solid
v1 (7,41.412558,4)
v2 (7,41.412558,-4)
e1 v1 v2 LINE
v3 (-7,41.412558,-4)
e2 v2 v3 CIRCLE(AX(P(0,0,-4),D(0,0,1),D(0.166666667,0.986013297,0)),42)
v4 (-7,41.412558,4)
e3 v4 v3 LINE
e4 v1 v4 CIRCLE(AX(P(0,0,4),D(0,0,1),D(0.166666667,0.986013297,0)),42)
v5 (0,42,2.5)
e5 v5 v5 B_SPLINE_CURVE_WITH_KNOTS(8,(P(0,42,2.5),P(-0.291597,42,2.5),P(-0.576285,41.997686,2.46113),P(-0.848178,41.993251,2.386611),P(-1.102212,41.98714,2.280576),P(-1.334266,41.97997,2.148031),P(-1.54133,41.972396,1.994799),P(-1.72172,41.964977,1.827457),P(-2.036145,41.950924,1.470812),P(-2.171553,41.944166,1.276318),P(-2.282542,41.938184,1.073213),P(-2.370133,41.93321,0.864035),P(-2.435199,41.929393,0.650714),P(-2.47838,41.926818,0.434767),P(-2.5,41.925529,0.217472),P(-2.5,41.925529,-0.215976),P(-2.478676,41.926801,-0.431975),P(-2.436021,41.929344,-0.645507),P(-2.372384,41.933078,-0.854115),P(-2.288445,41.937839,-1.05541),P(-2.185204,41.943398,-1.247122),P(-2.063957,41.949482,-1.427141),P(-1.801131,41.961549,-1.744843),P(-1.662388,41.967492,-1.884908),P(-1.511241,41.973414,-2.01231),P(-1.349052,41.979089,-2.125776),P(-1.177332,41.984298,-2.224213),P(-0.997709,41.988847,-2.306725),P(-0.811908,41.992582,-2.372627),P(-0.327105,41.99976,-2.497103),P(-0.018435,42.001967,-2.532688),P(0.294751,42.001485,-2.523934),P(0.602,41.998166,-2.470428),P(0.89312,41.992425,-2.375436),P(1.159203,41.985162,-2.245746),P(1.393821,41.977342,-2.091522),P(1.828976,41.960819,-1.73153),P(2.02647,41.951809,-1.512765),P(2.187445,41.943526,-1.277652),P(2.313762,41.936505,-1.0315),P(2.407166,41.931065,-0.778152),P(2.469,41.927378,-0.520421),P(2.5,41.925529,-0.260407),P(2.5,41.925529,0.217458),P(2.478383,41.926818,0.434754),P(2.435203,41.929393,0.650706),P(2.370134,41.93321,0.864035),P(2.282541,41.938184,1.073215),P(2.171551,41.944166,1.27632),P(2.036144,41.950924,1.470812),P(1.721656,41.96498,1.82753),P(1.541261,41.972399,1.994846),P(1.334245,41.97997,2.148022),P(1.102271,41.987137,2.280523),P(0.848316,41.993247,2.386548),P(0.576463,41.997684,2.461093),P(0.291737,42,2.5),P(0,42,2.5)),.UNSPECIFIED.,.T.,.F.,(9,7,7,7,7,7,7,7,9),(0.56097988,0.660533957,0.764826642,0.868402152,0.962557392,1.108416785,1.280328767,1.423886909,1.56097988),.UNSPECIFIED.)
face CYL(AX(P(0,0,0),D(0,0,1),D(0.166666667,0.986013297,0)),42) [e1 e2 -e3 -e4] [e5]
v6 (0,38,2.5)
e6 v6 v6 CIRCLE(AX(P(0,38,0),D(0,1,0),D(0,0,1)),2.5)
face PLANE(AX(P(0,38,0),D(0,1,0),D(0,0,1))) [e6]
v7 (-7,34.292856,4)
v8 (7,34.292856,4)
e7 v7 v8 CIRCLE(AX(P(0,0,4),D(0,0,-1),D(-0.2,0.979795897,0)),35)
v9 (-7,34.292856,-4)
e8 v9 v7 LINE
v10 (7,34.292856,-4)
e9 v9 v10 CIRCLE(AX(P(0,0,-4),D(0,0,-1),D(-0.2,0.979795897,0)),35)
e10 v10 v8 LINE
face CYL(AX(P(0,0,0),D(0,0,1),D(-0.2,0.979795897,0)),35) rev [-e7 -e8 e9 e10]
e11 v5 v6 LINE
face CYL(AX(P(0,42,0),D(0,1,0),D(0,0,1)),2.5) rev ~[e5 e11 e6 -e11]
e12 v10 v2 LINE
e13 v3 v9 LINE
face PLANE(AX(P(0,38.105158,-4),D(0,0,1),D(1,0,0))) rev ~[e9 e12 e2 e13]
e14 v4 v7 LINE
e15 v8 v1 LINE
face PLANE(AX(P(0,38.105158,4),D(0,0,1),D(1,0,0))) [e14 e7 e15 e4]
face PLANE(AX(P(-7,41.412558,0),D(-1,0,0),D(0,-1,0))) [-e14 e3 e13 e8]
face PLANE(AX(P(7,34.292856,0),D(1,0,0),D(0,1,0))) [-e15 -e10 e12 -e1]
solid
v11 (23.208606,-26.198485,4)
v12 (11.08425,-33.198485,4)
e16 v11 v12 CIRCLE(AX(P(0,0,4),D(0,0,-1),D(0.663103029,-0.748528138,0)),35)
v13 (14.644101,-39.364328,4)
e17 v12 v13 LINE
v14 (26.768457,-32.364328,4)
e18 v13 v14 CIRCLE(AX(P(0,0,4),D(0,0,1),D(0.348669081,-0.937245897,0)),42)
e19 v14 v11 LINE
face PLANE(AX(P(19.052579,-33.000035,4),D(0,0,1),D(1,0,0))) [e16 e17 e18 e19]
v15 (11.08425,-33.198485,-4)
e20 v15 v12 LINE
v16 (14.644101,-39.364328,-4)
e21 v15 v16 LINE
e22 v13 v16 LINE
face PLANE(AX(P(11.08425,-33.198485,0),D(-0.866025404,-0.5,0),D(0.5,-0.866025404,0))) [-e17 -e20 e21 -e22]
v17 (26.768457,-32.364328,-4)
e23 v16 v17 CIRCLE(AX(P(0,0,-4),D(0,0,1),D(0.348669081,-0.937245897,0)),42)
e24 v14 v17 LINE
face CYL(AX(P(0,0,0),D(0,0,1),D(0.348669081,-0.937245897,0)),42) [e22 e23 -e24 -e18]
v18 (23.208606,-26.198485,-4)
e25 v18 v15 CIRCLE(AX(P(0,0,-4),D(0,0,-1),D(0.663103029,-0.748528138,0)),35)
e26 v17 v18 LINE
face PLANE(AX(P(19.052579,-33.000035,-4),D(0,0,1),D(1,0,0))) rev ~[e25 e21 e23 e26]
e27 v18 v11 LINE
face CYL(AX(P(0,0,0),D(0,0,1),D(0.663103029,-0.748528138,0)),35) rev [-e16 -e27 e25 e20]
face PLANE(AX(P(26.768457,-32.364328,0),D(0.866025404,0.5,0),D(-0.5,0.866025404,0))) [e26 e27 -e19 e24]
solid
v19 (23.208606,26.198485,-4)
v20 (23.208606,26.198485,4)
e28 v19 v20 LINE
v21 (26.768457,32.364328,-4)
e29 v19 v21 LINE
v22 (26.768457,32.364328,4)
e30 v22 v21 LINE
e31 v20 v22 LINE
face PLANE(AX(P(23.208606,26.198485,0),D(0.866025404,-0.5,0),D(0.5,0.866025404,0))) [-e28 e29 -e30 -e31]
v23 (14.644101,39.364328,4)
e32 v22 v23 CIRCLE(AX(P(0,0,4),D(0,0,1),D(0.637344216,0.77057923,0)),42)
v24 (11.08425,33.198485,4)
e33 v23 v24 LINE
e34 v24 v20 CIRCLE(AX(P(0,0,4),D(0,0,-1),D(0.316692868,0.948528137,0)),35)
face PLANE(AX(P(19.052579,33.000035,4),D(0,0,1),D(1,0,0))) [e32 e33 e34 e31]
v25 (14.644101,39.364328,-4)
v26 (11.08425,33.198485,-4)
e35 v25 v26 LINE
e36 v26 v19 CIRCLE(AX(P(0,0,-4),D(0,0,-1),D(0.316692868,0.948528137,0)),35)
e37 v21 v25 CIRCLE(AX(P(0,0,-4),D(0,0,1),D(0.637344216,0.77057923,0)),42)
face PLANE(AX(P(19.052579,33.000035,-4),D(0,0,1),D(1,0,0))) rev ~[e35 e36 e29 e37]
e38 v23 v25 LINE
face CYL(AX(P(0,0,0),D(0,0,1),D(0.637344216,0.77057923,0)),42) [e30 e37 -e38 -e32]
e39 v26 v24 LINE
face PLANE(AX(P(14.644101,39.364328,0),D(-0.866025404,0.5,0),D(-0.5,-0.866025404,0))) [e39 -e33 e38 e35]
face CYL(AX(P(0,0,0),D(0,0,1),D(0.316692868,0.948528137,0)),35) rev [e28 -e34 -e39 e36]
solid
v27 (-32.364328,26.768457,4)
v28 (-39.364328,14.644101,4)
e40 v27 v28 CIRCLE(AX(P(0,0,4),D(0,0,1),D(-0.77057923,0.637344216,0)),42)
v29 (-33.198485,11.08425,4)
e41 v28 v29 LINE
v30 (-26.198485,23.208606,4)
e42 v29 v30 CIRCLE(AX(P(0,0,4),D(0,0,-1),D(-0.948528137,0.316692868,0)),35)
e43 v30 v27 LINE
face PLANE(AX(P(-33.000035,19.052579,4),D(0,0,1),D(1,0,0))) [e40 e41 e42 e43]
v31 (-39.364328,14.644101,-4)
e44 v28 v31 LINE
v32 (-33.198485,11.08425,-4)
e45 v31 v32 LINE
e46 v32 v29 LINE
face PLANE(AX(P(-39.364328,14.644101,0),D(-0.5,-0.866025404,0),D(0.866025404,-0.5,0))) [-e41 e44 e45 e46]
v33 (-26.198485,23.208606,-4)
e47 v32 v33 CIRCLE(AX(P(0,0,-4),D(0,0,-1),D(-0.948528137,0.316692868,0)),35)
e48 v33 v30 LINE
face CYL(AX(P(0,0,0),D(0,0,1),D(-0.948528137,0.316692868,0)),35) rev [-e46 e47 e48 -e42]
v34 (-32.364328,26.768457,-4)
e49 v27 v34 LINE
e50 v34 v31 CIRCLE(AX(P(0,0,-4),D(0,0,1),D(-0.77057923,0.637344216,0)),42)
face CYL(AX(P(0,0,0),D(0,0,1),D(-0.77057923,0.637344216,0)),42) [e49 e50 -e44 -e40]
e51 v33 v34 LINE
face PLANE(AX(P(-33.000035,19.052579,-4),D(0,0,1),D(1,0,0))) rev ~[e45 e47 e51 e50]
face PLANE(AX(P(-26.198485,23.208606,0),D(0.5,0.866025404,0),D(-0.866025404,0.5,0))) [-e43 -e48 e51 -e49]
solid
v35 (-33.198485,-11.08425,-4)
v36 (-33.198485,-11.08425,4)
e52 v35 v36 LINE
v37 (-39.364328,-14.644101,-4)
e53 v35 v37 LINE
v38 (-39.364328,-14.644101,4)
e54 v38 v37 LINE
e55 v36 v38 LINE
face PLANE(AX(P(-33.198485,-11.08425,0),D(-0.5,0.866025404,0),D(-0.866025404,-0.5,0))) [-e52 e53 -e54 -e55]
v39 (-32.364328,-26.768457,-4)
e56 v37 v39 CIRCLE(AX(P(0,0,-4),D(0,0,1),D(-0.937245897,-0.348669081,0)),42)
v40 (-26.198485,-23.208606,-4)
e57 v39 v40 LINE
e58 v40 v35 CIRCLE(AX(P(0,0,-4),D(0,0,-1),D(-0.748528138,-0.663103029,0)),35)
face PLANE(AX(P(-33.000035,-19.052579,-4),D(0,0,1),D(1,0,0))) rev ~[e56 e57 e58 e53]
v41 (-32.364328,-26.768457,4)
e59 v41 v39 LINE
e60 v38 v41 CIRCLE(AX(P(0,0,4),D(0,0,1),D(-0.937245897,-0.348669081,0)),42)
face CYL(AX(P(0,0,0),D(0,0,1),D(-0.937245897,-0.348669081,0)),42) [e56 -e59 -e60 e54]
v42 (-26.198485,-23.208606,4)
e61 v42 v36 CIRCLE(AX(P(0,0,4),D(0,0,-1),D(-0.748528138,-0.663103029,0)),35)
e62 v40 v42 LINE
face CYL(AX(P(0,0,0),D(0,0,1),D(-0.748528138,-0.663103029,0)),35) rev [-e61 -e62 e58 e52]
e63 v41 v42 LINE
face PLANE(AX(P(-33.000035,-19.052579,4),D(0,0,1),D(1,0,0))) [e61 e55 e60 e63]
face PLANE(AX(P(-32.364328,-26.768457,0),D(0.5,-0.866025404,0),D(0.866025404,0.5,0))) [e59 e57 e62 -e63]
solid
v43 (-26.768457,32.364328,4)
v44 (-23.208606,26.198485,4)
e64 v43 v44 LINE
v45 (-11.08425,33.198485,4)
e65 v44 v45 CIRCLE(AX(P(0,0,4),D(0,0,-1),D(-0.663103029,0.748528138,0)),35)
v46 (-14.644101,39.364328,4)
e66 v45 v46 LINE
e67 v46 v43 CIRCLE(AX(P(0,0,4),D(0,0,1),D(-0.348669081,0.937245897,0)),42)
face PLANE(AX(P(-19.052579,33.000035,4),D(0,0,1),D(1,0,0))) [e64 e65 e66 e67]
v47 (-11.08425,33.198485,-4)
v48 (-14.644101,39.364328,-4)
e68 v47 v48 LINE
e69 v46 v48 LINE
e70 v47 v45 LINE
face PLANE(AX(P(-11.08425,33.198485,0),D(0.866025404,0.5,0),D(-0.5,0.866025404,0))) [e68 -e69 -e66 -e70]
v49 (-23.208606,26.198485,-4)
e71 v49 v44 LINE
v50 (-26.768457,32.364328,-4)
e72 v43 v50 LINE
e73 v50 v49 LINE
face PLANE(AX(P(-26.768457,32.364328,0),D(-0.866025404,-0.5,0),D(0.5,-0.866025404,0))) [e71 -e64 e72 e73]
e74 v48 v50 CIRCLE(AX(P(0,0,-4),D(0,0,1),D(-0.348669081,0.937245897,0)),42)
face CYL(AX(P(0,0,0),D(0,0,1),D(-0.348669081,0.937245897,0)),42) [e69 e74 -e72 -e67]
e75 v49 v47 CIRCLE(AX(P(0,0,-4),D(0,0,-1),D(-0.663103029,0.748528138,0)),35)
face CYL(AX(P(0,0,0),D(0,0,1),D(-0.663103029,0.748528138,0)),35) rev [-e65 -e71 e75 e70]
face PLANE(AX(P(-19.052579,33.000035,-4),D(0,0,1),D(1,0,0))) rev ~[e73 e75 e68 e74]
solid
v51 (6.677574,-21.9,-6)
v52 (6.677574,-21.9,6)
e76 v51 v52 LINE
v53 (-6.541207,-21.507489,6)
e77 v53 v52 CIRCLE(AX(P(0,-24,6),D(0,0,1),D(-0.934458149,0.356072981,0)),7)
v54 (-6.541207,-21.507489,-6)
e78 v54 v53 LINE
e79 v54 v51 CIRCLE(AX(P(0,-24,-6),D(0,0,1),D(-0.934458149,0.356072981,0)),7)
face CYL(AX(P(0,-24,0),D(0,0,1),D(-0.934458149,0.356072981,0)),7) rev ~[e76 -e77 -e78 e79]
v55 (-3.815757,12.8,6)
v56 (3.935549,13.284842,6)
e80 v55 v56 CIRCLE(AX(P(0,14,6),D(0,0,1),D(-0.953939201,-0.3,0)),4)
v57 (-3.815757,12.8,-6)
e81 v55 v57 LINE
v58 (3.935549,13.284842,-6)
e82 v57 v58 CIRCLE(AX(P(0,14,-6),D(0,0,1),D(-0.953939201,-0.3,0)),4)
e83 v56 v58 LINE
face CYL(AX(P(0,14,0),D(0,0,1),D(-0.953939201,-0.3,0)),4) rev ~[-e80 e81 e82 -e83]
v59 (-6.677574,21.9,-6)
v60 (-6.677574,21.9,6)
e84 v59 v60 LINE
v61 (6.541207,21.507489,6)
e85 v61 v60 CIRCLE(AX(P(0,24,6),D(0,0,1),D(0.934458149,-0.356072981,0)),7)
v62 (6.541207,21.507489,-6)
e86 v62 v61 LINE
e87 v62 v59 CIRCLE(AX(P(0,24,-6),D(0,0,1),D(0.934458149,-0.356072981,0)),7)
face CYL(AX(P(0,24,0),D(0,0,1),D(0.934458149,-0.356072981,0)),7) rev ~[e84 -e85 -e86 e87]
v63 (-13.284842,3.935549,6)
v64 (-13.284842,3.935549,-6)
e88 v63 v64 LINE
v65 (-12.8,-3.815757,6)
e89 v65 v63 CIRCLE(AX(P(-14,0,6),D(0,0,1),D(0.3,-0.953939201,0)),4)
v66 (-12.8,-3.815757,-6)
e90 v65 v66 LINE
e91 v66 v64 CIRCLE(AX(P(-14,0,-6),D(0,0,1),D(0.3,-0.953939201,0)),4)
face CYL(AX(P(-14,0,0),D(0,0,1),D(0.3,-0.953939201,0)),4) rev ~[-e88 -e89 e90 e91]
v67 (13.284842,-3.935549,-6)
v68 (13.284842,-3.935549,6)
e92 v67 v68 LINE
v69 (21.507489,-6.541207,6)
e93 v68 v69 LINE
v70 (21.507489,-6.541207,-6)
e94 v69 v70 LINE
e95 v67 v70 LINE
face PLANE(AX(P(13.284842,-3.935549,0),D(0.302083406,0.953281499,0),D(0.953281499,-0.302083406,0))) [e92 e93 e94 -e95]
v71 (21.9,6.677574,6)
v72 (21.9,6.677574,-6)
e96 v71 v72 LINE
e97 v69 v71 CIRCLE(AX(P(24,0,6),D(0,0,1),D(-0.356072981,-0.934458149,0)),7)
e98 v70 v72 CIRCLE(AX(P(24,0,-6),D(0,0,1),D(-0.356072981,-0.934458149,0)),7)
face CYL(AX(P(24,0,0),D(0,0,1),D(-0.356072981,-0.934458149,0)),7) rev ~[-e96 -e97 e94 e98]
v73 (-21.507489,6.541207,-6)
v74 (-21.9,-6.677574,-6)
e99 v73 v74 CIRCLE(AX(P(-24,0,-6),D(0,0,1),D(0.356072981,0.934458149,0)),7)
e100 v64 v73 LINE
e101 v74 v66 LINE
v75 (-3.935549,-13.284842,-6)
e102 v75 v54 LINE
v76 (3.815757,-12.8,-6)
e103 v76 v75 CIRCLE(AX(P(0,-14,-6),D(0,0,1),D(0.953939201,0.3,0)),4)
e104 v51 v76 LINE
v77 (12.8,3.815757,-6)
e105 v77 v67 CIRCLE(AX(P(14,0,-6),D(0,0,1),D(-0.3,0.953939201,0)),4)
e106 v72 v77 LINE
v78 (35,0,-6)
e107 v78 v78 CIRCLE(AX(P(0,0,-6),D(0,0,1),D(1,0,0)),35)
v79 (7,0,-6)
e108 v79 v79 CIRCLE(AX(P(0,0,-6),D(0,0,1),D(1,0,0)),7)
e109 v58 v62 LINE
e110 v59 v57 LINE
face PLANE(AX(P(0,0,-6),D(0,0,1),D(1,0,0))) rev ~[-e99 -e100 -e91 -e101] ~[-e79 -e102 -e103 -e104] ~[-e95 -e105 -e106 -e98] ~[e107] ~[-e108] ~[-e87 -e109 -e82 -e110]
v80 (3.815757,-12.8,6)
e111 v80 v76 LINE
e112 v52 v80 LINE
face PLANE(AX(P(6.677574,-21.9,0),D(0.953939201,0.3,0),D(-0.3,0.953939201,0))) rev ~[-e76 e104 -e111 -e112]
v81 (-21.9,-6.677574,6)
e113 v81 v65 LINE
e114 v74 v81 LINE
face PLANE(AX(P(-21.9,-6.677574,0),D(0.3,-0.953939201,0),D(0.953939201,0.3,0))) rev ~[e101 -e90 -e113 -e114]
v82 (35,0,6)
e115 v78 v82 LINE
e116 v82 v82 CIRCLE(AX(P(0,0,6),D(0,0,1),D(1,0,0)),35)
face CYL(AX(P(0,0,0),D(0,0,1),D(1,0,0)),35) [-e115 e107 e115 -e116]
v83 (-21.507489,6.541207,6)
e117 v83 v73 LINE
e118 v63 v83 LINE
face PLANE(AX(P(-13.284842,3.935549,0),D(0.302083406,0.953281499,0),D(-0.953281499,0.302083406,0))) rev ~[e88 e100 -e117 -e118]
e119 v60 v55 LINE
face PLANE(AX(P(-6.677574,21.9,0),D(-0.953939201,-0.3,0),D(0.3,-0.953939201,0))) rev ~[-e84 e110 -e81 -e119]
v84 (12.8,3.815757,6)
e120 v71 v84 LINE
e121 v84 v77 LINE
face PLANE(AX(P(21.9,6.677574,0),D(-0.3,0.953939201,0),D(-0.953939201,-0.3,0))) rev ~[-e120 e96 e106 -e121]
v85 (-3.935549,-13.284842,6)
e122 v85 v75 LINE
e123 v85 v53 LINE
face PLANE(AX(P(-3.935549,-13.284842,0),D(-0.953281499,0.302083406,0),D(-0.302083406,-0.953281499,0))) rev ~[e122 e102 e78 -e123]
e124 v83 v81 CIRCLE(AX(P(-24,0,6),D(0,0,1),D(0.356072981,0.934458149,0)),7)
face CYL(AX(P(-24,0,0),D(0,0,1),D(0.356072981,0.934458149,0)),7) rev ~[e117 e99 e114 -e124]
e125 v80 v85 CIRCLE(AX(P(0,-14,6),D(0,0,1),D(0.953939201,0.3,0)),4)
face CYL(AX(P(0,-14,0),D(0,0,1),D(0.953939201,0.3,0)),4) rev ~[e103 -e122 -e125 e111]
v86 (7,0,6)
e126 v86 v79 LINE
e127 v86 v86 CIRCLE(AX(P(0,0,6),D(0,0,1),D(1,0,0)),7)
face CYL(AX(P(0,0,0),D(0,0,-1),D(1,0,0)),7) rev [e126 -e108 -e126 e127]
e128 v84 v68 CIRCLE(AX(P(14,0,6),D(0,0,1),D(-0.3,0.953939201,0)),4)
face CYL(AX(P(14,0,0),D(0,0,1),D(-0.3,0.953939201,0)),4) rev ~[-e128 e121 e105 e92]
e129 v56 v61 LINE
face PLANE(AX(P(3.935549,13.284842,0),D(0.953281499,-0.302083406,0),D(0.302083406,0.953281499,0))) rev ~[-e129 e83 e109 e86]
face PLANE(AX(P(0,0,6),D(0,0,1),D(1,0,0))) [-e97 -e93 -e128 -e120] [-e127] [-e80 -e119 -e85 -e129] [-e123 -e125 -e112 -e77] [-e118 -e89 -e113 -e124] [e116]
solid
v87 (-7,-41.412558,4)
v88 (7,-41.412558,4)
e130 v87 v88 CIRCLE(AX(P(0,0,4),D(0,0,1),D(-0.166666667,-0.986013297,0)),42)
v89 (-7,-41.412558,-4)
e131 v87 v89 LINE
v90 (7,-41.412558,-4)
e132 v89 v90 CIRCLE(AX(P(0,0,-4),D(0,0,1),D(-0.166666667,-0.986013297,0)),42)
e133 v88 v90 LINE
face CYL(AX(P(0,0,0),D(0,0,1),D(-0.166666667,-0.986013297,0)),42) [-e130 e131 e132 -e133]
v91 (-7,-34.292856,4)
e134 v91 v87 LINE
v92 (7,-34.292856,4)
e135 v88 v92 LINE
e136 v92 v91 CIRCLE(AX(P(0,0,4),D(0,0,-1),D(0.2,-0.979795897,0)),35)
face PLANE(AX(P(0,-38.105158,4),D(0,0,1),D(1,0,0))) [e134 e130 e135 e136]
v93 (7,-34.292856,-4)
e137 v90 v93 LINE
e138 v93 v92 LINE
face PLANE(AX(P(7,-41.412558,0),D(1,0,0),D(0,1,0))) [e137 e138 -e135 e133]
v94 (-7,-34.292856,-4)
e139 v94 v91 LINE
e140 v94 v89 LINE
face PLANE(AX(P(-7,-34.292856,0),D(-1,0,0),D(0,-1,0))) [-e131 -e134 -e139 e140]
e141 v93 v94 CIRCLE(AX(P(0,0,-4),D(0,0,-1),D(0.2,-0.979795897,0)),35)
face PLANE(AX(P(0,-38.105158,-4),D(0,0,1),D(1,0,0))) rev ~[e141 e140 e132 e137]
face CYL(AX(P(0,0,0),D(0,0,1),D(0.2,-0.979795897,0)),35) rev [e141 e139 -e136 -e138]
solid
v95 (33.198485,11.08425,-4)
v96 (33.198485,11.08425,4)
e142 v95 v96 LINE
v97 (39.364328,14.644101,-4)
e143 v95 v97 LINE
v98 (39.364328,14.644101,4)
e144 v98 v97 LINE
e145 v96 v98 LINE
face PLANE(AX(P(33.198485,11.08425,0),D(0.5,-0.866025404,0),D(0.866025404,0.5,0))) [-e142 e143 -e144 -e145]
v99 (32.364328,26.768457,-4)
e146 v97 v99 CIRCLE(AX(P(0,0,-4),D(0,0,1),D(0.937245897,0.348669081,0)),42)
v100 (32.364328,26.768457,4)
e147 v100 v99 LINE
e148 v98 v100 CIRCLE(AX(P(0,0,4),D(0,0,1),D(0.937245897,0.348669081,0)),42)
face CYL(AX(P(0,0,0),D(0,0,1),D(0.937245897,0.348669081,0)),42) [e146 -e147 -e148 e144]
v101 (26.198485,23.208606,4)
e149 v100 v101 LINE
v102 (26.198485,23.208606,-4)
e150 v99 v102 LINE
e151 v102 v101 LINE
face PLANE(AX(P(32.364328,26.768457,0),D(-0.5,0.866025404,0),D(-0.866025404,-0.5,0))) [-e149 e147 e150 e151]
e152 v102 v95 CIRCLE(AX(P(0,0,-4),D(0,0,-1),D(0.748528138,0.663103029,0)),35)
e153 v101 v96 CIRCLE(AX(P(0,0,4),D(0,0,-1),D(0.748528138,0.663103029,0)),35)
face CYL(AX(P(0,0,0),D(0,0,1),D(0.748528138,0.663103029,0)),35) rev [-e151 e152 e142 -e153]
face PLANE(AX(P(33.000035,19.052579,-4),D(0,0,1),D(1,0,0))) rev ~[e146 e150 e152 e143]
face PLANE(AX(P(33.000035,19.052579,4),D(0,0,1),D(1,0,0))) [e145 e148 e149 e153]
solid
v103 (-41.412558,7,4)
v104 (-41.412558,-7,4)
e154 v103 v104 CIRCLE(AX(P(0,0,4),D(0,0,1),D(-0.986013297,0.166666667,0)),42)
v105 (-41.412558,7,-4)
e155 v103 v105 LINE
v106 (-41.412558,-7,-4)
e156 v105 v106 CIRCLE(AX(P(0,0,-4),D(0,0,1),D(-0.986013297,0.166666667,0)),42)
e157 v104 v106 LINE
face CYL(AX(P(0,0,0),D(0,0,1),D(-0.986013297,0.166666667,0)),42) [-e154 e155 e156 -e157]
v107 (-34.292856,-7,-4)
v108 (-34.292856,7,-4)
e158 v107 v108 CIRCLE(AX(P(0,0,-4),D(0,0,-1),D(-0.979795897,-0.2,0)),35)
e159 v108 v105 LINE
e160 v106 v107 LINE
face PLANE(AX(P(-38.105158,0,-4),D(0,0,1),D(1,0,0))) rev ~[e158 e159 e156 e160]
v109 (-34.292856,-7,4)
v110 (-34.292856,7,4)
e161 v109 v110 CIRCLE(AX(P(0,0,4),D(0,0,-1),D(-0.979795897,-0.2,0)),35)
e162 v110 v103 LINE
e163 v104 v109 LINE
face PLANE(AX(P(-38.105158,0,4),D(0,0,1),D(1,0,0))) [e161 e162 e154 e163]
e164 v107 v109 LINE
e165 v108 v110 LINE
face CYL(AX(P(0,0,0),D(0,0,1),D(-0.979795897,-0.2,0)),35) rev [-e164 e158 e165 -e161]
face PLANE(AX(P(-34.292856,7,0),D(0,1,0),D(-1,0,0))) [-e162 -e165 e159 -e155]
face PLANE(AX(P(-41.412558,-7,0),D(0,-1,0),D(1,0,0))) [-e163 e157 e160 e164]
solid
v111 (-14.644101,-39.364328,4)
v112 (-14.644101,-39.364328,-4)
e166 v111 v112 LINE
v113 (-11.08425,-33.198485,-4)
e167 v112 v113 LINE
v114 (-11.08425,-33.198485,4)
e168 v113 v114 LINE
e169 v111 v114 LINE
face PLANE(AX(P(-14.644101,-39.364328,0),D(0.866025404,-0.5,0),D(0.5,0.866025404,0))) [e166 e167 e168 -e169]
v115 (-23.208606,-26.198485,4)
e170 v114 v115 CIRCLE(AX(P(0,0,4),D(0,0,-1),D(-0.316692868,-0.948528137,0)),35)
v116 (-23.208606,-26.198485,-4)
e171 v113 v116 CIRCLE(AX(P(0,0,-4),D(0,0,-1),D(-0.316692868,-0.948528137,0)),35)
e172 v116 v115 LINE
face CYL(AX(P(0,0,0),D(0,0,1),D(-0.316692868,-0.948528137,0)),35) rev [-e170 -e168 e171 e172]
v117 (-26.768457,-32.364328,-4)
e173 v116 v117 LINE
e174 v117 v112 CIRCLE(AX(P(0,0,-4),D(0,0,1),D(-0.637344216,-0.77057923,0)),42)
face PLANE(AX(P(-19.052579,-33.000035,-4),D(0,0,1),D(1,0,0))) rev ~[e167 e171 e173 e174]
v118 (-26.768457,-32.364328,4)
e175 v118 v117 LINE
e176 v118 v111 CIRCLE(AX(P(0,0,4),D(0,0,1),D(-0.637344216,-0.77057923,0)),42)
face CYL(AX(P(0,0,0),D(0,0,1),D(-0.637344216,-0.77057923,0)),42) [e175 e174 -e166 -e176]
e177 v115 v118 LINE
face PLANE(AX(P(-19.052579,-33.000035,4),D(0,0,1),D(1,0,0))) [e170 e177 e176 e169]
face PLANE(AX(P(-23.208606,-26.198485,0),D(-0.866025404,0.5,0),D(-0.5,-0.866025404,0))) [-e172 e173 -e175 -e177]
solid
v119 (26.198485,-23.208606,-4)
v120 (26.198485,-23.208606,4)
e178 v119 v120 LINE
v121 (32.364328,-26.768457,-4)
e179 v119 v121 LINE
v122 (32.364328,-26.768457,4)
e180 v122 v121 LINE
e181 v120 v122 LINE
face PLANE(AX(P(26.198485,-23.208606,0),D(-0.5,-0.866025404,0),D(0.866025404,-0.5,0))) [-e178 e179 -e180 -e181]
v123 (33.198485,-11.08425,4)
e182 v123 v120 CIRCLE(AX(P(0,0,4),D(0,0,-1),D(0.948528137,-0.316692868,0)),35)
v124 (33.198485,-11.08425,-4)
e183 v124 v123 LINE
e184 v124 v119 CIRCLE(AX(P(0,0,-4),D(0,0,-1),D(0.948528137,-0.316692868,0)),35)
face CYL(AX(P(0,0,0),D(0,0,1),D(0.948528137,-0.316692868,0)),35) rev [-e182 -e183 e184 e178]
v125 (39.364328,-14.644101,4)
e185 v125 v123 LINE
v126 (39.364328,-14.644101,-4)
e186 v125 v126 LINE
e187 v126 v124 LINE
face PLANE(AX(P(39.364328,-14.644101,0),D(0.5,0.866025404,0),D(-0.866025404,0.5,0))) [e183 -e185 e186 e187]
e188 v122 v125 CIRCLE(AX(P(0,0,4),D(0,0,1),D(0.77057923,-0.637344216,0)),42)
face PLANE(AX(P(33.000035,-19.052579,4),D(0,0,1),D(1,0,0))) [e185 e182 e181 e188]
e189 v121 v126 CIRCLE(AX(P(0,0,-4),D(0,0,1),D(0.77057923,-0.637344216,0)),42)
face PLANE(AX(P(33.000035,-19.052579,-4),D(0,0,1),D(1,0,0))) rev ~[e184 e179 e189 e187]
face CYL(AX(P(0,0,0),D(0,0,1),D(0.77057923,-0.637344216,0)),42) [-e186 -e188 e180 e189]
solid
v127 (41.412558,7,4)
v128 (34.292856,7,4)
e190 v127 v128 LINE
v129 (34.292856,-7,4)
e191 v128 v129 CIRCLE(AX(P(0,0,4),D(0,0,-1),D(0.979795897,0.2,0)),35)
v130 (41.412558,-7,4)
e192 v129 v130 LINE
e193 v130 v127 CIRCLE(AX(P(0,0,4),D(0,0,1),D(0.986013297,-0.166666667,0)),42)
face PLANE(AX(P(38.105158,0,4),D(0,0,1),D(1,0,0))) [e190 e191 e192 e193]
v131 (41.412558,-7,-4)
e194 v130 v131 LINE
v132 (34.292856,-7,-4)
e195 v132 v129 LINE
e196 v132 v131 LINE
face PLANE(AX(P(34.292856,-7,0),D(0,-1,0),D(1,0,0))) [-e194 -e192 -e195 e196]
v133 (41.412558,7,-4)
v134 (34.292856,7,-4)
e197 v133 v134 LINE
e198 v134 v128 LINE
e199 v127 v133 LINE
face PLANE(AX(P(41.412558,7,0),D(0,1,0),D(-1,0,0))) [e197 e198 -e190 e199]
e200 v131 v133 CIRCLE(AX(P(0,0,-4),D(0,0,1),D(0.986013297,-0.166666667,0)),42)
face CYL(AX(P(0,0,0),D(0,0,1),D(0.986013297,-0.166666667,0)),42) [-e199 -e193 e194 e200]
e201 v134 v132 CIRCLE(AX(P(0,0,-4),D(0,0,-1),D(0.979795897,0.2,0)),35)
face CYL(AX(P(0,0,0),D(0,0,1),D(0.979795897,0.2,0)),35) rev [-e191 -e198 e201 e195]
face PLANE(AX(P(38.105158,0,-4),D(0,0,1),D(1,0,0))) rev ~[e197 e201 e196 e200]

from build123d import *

# Parameters (mm, degrees)
CROQUIS1_R                 = 35
CROQUIS1_R_2               = 7
SALIENTE_EXTRUIR1_DEPTH    = 6
SALIENTE_EXTRUIR2_DEPTH    = 4
SALIENTE_EXTRUIR2_2_DEPTH  = 4
SALIENTE_EXTRUIR2_3_DEPTH  = 4
SALIENTE_EXTRUIR2_4_DEPTH  = 4
SALIENTE_EXTRUIR2_5_DEPTH  = 4
SALIENTE_EXTRUIR2_6_DEPTH  = 4
SALIENTE_EXTRUIR2_7_DEPTH  = 4
SALIENTE_EXTRUIR2_8_DEPTH  = 4
SALIENTE_EXTRUIR2_9_DEPTH  = 4
SALIENTE_EXTRUIR2_10_DEPTH = 4
SALIENTE_EXTRUIR2_11_DEPTH = 4
SALIENTE_EXTRUIR2_12_DEPTH = 4
CROQUIS7_R                 = 2.5
CORTAR_EXTRUIR3_DEPTH      = 4


with BuildPart() as part:
    # Croquis1 → Saliente-Extruir1 (new, symmetric)
    with BuildSketch(Plane.XY):
        Circle(CROQUIS1_R)
        Circle(CROQUIS1_R_2, mode=Mode.SUBTRACT)
        with BuildLine():
            Line((-6.67757441, 21.9), (-3.815756806, 12.8))
            ThreePointArc((-3.815756806, 12.8), (0.249710926, 10.007802052), (3.935549423, 13.284842156))
            Line((3.935549423, 13.284842156), (6.541207042, 21.507489131))
            ThreePointArc((6.541207042, 21.507489131), (0.207762389, 30.996916091), (-6.67757441, 21.9))
        make_face(mode=Mode.SUBTRACT)
        with BuildLine():
            Line((21.9, 6.67757441), (12.8, 3.815756806))
            ThreePointArc((12.8, 3.815756806), (10.007802052, -0.249710926), (13.284842156, -3.935549423))
            Line((13.284842156, -3.935549423), (21.507489131, -6.541207042))
            ThreePointArc((21.507489131, -6.541207042), (30.996916091, -0.207762389), (21.9, 6.67757441))
        make_face(mode=Mode.SUBTRACT)
        with BuildLine():
            Line((6.67757441, -21.9), (3.815756806, -12.8))
            ThreePointArc((3.815756806, -12.8), (-0.249710926, -10.007802052), (-3.935549423, -13.284842156))
            Line((-3.935549423, -13.284842156), (-6.541207042, -21.507489131))
            ThreePointArc((-6.541207042, -21.507489131), (-0.207762389, -30.996916091), (6.67757441, -21.9))
        make_face(mode=Mode.SUBTRACT)
        with BuildLine():
            Line((-21.9, -6.67757441), (-12.8, -3.815756806))
            ThreePointArc((-12.8, -3.815756806), (-10.007802052, 0.249710926), (-13.284842156, 3.935549423))
            Line((-13.284842156, 3.935549423), (-21.507489131, 6.541207042))
            ThreePointArc((-21.507489131, 6.541207042), (-30.996916091, 0.207762389), (-21.9, -6.67757441))
        make_face(mode=Mode.SUBTRACT)
    extrude(amount=SALIENTE_EXTRUIR1_DEPTH, both=True)


with BuildPart() as body_2:
    # Croquis4 → Saliente-Extruir2 (new, symmetric)
    with BuildSketch(Plane.XY):
        with BuildLine():
            Line((-7, 41.412558482), (-7, 34.292856399))
            ThreePointArc((-7, 34.292856399), (0, 35), (7, 34.292856399))
            Line((7, 34.292856399), (7, 41.412558482))
            ThreePointArc((7, 41.412558482), (0, 42), (-7, 41.412558482))
        make_face()
    extrude(amount=SALIENTE_EXTRUIR2_DEPTH, both=True)

    # Croquis7 → Cortar-Extruir3 (cut)
    with BuildSketch(Plane(origin=(0, 42, 0), x_dir=(1, 0, 0), z_dir=(0, 1, 0))):
        with Locations(Location((0, 0, 0), (0, 0, 270))):
            Circle(CROQUIS7_R)
    extrude(amount=-CORTAR_EXTRUIR3_DEPTH, mode=Mode.SUBTRACT)


with BuildPart() as body_3:
    # Croquis4 → Saliente-Extruir2 2 (new, symmetric)
    with BuildSketch(Plane.XY):
        with BuildLine():
            Line((14.644101414, 39.364327681), (11.084250373, 33.19848481))
            ThreePointArc((11.084250373, 33.19848481), (17.5, 30.310889132), (23.208606026, 26.19848481))
            Line((23.208606026, 26.19848481), (26.768457067, 32.364327681))
            ThreePointArc((26.768457067, 32.364327681), (21, 36.373066959), (14.644101414, 39.364327681))
        make_face()
    extrude(amount=SALIENTE_EXTRUIR2_2_DEPTH, both=True)


with BuildPart() as body_4:
    # Croquis4 → Saliente-Extruir2 3 (new, symmetric)
    with BuildSketch(Plane.XY):
        with BuildLine():
            Line((32.364327681, 26.768457067), (26.19848481, 23.208606026))
            ThreePointArc((26.19848481, 23.208606026), (30.310889132, 17.5), (33.19848481, 11.084250373))
            Line((33.19848481, 11.084250373), (39.364327681, 14.644101414))
            ThreePointArc((39.364327681, 14.644101414), (36.373066959, 21), (32.364327681, 26.768457067))
        make_face()
    extrude(amount=SALIENTE_EXTRUIR2_3_DEPTH, both=True)


with BuildPart() as body_5:
    # Croquis4 → Saliente-Extruir2 4 (new, symmetric)
    with BuildSketch(Plane.XY):
        with BuildLine():
            Line((41.412558482, 7), (34.292856399, 7))
            ThreePointArc((34.292856399, 7), (35, 0), (34.292856399, -7))
            Line((34.292856399, -7), (41.412558482, -7))
            ThreePointArc((41.412558482, -7), (42, 0), (41.412558482, 7))
        make_face()
    extrude(amount=SALIENTE_EXTRUIR2_4_DEPTH, both=True)


with BuildPart() as body_6:
    # Croquis4 → Saliente-Extruir2 5 (new, symmetric)
    with BuildSketch(Plane.XY):
        with BuildLine():
            Line((39.364327681, -14.644101414), (33.19848481, -11.084250373))
            ThreePointArc((33.19848481, -11.084250373), (30.310889132, -17.5), (26.19848481, -23.208606026))
            Line((26.19848481, -23.208606026), (32.364327681, -26.768457067))
            ThreePointArc((32.364327681, -26.768457067), (36.373066959, -21), (39.364327681, -14.644101414))
        make_face()
    extrude(amount=SALIENTE_EXTRUIR2_5_DEPTH, both=True)


with BuildPart() as body_7:
    # Croquis4 → Saliente-Extruir2 6 (new, symmetric)
    with BuildSketch(Plane.XY):
        with BuildLine():
            Line((26.768457067, -32.364327681), (23.208606026, -26.19848481))
            ThreePointArc((23.208606026, -26.19848481), (17.5, -30.310889132), (11.084250373, -33.19848481))
            Line((11.084250373, -33.19848481), (14.644101414, -39.364327681))
            ThreePointArc((14.644101414, -39.364327681), (21, -36.373066959), (26.768457067, -32.364327681))
        make_face()
    extrude(amount=SALIENTE_EXTRUIR2_6_DEPTH, both=True)


with BuildPart() as body_8:
    # Croquis4 → Saliente-Extruir2 7 (new, symmetric)
    with BuildSketch(Plane.XY):
        with BuildLine():
            Line((7, -41.412558482), (7, -34.292856399))
            ThreePointArc((7, -34.292856399), (0, -35), (-7, -34.292856399))
            Line((-7, -34.292856399), (-7, -41.412558482))
            ThreePointArc((-7, -41.412558482), (0, -42), (7, -41.412558482))
        make_face()
    extrude(amount=SALIENTE_EXTRUIR2_7_DEPTH, both=True)


with BuildPart() as body_9:
    # Croquis4 → Saliente-Extruir2 8 (new, symmetric)
    with BuildSketch(Plane.XY):
        with BuildLine():
            Line((-14.644101414, -39.364327681), (-11.084250373, -33.19848481))
            ThreePointArc((-11.084250373, -33.19848481), (-17.5, -30.310889132), (-23.208606026, -26.19848481))
            Line((-23.208606026, -26.19848481), (-26.768457067, -32.364327681))
            ThreePointArc((-26.768457067, -32.364327681), (-21, -36.373066959), (-14.644101414, -39.364327681))
        make_face()
    extrude(amount=SALIENTE_EXTRUIR2_8_DEPTH, both=True)


with BuildPart() as body_10:
    # Croquis4 → Saliente-Extruir2 9 (new, symmetric)
    with BuildSketch(Plane.XY):
        with BuildLine():
            Line((-32.364327681, -26.768457067), (-26.19848481, -23.208606026))
            ThreePointArc((-26.19848481, -23.208606026), (-30.310889132, -17.5), (-33.19848481, -11.084250373))
            Line((-33.19848481, -11.084250373), (-39.364327681, -14.644101414))
            ThreePointArc((-39.364327681, -14.644101414), (-36.373066959, -21), (-32.364327681, -26.768457067))
        make_face()
    extrude(amount=SALIENTE_EXTRUIR2_9_DEPTH, both=True)


with BuildPart() as body_11:
    # Croquis4 → Saliente-Extruir2 10 (new, symmetric)
    with BuildSketch(Plane.XY):
        with BuildLine():
            Line((-41.412558482, -7), (-34.292856399, -7))
            ThreePointArc((-34.292856399, -7), (-35, 0), (-34.292856399, 7))
            Line((-34.292856399, 7), (-41.412558482, 7))
            ThreePointArc((-41.412558482, 7), (-42, 0), (-41.412558482, -7))
        make_face()
    extrude(amount=SALIENTE_EXTRUIR2_10_DEPTH, both=True)


with BuildPart() as body_12:
    # Croquis4 → Saliente-Extruir2 11 (new, symmetric)
    with BuildSketch(Plane.XY):
        with BuildLine():
            Line((-39.364327681, 14.644101414), (-33.19848481, 11.084250373))
            ThreePointArc((-33.19848481, 11.084250373), (-30.310889132, 17.5), (-26.19848481, 23.208606026))
            Line((-26.19848481, 23.208606026), (-32.364327681, 26.768457067))
            ThreePointArc((-32.364327681, 26.768457067), (-36.373066959, 21), (-39.364327681, 14.644101414))
        make_face()
    extrude(amount=SALIENTE_EXTRUIR2_11_DEPTH, both=True)


with BuildPart() as body_13:
    # Croquis4 → Saliente-Extruir2 12 (new, symmetric)
    with BuildSketch(Plane.XY):
        with BuildLine():
            Line((-26.768457067, 32.364327681), (-23.208606026, 26.19848481))
            ThreePointArc((-23.208606026, 26.19848481), (-17.5, 30.310889132), (-11.084250373, 33.19848481))
            Line((-11.084250373, 33.19848481), (-14.644101414, 39.364327681))
            ThreePointArc((-14.644101414, 39.364327681), (-21, 36.373066959), (-26.768457067, 32.364327681))
        make_face()
    extrude(amount=SALIENTE_EXTRUIR2_12_DEPTH, both=True)


solid = Compound([part.part, body_2.part, body_3.part, body_4.part, body_5.part, body_6.part, body_7.part, body_8.part, body_9.part, body_10.part, body_11.part, body_12.part, body_13.part])
